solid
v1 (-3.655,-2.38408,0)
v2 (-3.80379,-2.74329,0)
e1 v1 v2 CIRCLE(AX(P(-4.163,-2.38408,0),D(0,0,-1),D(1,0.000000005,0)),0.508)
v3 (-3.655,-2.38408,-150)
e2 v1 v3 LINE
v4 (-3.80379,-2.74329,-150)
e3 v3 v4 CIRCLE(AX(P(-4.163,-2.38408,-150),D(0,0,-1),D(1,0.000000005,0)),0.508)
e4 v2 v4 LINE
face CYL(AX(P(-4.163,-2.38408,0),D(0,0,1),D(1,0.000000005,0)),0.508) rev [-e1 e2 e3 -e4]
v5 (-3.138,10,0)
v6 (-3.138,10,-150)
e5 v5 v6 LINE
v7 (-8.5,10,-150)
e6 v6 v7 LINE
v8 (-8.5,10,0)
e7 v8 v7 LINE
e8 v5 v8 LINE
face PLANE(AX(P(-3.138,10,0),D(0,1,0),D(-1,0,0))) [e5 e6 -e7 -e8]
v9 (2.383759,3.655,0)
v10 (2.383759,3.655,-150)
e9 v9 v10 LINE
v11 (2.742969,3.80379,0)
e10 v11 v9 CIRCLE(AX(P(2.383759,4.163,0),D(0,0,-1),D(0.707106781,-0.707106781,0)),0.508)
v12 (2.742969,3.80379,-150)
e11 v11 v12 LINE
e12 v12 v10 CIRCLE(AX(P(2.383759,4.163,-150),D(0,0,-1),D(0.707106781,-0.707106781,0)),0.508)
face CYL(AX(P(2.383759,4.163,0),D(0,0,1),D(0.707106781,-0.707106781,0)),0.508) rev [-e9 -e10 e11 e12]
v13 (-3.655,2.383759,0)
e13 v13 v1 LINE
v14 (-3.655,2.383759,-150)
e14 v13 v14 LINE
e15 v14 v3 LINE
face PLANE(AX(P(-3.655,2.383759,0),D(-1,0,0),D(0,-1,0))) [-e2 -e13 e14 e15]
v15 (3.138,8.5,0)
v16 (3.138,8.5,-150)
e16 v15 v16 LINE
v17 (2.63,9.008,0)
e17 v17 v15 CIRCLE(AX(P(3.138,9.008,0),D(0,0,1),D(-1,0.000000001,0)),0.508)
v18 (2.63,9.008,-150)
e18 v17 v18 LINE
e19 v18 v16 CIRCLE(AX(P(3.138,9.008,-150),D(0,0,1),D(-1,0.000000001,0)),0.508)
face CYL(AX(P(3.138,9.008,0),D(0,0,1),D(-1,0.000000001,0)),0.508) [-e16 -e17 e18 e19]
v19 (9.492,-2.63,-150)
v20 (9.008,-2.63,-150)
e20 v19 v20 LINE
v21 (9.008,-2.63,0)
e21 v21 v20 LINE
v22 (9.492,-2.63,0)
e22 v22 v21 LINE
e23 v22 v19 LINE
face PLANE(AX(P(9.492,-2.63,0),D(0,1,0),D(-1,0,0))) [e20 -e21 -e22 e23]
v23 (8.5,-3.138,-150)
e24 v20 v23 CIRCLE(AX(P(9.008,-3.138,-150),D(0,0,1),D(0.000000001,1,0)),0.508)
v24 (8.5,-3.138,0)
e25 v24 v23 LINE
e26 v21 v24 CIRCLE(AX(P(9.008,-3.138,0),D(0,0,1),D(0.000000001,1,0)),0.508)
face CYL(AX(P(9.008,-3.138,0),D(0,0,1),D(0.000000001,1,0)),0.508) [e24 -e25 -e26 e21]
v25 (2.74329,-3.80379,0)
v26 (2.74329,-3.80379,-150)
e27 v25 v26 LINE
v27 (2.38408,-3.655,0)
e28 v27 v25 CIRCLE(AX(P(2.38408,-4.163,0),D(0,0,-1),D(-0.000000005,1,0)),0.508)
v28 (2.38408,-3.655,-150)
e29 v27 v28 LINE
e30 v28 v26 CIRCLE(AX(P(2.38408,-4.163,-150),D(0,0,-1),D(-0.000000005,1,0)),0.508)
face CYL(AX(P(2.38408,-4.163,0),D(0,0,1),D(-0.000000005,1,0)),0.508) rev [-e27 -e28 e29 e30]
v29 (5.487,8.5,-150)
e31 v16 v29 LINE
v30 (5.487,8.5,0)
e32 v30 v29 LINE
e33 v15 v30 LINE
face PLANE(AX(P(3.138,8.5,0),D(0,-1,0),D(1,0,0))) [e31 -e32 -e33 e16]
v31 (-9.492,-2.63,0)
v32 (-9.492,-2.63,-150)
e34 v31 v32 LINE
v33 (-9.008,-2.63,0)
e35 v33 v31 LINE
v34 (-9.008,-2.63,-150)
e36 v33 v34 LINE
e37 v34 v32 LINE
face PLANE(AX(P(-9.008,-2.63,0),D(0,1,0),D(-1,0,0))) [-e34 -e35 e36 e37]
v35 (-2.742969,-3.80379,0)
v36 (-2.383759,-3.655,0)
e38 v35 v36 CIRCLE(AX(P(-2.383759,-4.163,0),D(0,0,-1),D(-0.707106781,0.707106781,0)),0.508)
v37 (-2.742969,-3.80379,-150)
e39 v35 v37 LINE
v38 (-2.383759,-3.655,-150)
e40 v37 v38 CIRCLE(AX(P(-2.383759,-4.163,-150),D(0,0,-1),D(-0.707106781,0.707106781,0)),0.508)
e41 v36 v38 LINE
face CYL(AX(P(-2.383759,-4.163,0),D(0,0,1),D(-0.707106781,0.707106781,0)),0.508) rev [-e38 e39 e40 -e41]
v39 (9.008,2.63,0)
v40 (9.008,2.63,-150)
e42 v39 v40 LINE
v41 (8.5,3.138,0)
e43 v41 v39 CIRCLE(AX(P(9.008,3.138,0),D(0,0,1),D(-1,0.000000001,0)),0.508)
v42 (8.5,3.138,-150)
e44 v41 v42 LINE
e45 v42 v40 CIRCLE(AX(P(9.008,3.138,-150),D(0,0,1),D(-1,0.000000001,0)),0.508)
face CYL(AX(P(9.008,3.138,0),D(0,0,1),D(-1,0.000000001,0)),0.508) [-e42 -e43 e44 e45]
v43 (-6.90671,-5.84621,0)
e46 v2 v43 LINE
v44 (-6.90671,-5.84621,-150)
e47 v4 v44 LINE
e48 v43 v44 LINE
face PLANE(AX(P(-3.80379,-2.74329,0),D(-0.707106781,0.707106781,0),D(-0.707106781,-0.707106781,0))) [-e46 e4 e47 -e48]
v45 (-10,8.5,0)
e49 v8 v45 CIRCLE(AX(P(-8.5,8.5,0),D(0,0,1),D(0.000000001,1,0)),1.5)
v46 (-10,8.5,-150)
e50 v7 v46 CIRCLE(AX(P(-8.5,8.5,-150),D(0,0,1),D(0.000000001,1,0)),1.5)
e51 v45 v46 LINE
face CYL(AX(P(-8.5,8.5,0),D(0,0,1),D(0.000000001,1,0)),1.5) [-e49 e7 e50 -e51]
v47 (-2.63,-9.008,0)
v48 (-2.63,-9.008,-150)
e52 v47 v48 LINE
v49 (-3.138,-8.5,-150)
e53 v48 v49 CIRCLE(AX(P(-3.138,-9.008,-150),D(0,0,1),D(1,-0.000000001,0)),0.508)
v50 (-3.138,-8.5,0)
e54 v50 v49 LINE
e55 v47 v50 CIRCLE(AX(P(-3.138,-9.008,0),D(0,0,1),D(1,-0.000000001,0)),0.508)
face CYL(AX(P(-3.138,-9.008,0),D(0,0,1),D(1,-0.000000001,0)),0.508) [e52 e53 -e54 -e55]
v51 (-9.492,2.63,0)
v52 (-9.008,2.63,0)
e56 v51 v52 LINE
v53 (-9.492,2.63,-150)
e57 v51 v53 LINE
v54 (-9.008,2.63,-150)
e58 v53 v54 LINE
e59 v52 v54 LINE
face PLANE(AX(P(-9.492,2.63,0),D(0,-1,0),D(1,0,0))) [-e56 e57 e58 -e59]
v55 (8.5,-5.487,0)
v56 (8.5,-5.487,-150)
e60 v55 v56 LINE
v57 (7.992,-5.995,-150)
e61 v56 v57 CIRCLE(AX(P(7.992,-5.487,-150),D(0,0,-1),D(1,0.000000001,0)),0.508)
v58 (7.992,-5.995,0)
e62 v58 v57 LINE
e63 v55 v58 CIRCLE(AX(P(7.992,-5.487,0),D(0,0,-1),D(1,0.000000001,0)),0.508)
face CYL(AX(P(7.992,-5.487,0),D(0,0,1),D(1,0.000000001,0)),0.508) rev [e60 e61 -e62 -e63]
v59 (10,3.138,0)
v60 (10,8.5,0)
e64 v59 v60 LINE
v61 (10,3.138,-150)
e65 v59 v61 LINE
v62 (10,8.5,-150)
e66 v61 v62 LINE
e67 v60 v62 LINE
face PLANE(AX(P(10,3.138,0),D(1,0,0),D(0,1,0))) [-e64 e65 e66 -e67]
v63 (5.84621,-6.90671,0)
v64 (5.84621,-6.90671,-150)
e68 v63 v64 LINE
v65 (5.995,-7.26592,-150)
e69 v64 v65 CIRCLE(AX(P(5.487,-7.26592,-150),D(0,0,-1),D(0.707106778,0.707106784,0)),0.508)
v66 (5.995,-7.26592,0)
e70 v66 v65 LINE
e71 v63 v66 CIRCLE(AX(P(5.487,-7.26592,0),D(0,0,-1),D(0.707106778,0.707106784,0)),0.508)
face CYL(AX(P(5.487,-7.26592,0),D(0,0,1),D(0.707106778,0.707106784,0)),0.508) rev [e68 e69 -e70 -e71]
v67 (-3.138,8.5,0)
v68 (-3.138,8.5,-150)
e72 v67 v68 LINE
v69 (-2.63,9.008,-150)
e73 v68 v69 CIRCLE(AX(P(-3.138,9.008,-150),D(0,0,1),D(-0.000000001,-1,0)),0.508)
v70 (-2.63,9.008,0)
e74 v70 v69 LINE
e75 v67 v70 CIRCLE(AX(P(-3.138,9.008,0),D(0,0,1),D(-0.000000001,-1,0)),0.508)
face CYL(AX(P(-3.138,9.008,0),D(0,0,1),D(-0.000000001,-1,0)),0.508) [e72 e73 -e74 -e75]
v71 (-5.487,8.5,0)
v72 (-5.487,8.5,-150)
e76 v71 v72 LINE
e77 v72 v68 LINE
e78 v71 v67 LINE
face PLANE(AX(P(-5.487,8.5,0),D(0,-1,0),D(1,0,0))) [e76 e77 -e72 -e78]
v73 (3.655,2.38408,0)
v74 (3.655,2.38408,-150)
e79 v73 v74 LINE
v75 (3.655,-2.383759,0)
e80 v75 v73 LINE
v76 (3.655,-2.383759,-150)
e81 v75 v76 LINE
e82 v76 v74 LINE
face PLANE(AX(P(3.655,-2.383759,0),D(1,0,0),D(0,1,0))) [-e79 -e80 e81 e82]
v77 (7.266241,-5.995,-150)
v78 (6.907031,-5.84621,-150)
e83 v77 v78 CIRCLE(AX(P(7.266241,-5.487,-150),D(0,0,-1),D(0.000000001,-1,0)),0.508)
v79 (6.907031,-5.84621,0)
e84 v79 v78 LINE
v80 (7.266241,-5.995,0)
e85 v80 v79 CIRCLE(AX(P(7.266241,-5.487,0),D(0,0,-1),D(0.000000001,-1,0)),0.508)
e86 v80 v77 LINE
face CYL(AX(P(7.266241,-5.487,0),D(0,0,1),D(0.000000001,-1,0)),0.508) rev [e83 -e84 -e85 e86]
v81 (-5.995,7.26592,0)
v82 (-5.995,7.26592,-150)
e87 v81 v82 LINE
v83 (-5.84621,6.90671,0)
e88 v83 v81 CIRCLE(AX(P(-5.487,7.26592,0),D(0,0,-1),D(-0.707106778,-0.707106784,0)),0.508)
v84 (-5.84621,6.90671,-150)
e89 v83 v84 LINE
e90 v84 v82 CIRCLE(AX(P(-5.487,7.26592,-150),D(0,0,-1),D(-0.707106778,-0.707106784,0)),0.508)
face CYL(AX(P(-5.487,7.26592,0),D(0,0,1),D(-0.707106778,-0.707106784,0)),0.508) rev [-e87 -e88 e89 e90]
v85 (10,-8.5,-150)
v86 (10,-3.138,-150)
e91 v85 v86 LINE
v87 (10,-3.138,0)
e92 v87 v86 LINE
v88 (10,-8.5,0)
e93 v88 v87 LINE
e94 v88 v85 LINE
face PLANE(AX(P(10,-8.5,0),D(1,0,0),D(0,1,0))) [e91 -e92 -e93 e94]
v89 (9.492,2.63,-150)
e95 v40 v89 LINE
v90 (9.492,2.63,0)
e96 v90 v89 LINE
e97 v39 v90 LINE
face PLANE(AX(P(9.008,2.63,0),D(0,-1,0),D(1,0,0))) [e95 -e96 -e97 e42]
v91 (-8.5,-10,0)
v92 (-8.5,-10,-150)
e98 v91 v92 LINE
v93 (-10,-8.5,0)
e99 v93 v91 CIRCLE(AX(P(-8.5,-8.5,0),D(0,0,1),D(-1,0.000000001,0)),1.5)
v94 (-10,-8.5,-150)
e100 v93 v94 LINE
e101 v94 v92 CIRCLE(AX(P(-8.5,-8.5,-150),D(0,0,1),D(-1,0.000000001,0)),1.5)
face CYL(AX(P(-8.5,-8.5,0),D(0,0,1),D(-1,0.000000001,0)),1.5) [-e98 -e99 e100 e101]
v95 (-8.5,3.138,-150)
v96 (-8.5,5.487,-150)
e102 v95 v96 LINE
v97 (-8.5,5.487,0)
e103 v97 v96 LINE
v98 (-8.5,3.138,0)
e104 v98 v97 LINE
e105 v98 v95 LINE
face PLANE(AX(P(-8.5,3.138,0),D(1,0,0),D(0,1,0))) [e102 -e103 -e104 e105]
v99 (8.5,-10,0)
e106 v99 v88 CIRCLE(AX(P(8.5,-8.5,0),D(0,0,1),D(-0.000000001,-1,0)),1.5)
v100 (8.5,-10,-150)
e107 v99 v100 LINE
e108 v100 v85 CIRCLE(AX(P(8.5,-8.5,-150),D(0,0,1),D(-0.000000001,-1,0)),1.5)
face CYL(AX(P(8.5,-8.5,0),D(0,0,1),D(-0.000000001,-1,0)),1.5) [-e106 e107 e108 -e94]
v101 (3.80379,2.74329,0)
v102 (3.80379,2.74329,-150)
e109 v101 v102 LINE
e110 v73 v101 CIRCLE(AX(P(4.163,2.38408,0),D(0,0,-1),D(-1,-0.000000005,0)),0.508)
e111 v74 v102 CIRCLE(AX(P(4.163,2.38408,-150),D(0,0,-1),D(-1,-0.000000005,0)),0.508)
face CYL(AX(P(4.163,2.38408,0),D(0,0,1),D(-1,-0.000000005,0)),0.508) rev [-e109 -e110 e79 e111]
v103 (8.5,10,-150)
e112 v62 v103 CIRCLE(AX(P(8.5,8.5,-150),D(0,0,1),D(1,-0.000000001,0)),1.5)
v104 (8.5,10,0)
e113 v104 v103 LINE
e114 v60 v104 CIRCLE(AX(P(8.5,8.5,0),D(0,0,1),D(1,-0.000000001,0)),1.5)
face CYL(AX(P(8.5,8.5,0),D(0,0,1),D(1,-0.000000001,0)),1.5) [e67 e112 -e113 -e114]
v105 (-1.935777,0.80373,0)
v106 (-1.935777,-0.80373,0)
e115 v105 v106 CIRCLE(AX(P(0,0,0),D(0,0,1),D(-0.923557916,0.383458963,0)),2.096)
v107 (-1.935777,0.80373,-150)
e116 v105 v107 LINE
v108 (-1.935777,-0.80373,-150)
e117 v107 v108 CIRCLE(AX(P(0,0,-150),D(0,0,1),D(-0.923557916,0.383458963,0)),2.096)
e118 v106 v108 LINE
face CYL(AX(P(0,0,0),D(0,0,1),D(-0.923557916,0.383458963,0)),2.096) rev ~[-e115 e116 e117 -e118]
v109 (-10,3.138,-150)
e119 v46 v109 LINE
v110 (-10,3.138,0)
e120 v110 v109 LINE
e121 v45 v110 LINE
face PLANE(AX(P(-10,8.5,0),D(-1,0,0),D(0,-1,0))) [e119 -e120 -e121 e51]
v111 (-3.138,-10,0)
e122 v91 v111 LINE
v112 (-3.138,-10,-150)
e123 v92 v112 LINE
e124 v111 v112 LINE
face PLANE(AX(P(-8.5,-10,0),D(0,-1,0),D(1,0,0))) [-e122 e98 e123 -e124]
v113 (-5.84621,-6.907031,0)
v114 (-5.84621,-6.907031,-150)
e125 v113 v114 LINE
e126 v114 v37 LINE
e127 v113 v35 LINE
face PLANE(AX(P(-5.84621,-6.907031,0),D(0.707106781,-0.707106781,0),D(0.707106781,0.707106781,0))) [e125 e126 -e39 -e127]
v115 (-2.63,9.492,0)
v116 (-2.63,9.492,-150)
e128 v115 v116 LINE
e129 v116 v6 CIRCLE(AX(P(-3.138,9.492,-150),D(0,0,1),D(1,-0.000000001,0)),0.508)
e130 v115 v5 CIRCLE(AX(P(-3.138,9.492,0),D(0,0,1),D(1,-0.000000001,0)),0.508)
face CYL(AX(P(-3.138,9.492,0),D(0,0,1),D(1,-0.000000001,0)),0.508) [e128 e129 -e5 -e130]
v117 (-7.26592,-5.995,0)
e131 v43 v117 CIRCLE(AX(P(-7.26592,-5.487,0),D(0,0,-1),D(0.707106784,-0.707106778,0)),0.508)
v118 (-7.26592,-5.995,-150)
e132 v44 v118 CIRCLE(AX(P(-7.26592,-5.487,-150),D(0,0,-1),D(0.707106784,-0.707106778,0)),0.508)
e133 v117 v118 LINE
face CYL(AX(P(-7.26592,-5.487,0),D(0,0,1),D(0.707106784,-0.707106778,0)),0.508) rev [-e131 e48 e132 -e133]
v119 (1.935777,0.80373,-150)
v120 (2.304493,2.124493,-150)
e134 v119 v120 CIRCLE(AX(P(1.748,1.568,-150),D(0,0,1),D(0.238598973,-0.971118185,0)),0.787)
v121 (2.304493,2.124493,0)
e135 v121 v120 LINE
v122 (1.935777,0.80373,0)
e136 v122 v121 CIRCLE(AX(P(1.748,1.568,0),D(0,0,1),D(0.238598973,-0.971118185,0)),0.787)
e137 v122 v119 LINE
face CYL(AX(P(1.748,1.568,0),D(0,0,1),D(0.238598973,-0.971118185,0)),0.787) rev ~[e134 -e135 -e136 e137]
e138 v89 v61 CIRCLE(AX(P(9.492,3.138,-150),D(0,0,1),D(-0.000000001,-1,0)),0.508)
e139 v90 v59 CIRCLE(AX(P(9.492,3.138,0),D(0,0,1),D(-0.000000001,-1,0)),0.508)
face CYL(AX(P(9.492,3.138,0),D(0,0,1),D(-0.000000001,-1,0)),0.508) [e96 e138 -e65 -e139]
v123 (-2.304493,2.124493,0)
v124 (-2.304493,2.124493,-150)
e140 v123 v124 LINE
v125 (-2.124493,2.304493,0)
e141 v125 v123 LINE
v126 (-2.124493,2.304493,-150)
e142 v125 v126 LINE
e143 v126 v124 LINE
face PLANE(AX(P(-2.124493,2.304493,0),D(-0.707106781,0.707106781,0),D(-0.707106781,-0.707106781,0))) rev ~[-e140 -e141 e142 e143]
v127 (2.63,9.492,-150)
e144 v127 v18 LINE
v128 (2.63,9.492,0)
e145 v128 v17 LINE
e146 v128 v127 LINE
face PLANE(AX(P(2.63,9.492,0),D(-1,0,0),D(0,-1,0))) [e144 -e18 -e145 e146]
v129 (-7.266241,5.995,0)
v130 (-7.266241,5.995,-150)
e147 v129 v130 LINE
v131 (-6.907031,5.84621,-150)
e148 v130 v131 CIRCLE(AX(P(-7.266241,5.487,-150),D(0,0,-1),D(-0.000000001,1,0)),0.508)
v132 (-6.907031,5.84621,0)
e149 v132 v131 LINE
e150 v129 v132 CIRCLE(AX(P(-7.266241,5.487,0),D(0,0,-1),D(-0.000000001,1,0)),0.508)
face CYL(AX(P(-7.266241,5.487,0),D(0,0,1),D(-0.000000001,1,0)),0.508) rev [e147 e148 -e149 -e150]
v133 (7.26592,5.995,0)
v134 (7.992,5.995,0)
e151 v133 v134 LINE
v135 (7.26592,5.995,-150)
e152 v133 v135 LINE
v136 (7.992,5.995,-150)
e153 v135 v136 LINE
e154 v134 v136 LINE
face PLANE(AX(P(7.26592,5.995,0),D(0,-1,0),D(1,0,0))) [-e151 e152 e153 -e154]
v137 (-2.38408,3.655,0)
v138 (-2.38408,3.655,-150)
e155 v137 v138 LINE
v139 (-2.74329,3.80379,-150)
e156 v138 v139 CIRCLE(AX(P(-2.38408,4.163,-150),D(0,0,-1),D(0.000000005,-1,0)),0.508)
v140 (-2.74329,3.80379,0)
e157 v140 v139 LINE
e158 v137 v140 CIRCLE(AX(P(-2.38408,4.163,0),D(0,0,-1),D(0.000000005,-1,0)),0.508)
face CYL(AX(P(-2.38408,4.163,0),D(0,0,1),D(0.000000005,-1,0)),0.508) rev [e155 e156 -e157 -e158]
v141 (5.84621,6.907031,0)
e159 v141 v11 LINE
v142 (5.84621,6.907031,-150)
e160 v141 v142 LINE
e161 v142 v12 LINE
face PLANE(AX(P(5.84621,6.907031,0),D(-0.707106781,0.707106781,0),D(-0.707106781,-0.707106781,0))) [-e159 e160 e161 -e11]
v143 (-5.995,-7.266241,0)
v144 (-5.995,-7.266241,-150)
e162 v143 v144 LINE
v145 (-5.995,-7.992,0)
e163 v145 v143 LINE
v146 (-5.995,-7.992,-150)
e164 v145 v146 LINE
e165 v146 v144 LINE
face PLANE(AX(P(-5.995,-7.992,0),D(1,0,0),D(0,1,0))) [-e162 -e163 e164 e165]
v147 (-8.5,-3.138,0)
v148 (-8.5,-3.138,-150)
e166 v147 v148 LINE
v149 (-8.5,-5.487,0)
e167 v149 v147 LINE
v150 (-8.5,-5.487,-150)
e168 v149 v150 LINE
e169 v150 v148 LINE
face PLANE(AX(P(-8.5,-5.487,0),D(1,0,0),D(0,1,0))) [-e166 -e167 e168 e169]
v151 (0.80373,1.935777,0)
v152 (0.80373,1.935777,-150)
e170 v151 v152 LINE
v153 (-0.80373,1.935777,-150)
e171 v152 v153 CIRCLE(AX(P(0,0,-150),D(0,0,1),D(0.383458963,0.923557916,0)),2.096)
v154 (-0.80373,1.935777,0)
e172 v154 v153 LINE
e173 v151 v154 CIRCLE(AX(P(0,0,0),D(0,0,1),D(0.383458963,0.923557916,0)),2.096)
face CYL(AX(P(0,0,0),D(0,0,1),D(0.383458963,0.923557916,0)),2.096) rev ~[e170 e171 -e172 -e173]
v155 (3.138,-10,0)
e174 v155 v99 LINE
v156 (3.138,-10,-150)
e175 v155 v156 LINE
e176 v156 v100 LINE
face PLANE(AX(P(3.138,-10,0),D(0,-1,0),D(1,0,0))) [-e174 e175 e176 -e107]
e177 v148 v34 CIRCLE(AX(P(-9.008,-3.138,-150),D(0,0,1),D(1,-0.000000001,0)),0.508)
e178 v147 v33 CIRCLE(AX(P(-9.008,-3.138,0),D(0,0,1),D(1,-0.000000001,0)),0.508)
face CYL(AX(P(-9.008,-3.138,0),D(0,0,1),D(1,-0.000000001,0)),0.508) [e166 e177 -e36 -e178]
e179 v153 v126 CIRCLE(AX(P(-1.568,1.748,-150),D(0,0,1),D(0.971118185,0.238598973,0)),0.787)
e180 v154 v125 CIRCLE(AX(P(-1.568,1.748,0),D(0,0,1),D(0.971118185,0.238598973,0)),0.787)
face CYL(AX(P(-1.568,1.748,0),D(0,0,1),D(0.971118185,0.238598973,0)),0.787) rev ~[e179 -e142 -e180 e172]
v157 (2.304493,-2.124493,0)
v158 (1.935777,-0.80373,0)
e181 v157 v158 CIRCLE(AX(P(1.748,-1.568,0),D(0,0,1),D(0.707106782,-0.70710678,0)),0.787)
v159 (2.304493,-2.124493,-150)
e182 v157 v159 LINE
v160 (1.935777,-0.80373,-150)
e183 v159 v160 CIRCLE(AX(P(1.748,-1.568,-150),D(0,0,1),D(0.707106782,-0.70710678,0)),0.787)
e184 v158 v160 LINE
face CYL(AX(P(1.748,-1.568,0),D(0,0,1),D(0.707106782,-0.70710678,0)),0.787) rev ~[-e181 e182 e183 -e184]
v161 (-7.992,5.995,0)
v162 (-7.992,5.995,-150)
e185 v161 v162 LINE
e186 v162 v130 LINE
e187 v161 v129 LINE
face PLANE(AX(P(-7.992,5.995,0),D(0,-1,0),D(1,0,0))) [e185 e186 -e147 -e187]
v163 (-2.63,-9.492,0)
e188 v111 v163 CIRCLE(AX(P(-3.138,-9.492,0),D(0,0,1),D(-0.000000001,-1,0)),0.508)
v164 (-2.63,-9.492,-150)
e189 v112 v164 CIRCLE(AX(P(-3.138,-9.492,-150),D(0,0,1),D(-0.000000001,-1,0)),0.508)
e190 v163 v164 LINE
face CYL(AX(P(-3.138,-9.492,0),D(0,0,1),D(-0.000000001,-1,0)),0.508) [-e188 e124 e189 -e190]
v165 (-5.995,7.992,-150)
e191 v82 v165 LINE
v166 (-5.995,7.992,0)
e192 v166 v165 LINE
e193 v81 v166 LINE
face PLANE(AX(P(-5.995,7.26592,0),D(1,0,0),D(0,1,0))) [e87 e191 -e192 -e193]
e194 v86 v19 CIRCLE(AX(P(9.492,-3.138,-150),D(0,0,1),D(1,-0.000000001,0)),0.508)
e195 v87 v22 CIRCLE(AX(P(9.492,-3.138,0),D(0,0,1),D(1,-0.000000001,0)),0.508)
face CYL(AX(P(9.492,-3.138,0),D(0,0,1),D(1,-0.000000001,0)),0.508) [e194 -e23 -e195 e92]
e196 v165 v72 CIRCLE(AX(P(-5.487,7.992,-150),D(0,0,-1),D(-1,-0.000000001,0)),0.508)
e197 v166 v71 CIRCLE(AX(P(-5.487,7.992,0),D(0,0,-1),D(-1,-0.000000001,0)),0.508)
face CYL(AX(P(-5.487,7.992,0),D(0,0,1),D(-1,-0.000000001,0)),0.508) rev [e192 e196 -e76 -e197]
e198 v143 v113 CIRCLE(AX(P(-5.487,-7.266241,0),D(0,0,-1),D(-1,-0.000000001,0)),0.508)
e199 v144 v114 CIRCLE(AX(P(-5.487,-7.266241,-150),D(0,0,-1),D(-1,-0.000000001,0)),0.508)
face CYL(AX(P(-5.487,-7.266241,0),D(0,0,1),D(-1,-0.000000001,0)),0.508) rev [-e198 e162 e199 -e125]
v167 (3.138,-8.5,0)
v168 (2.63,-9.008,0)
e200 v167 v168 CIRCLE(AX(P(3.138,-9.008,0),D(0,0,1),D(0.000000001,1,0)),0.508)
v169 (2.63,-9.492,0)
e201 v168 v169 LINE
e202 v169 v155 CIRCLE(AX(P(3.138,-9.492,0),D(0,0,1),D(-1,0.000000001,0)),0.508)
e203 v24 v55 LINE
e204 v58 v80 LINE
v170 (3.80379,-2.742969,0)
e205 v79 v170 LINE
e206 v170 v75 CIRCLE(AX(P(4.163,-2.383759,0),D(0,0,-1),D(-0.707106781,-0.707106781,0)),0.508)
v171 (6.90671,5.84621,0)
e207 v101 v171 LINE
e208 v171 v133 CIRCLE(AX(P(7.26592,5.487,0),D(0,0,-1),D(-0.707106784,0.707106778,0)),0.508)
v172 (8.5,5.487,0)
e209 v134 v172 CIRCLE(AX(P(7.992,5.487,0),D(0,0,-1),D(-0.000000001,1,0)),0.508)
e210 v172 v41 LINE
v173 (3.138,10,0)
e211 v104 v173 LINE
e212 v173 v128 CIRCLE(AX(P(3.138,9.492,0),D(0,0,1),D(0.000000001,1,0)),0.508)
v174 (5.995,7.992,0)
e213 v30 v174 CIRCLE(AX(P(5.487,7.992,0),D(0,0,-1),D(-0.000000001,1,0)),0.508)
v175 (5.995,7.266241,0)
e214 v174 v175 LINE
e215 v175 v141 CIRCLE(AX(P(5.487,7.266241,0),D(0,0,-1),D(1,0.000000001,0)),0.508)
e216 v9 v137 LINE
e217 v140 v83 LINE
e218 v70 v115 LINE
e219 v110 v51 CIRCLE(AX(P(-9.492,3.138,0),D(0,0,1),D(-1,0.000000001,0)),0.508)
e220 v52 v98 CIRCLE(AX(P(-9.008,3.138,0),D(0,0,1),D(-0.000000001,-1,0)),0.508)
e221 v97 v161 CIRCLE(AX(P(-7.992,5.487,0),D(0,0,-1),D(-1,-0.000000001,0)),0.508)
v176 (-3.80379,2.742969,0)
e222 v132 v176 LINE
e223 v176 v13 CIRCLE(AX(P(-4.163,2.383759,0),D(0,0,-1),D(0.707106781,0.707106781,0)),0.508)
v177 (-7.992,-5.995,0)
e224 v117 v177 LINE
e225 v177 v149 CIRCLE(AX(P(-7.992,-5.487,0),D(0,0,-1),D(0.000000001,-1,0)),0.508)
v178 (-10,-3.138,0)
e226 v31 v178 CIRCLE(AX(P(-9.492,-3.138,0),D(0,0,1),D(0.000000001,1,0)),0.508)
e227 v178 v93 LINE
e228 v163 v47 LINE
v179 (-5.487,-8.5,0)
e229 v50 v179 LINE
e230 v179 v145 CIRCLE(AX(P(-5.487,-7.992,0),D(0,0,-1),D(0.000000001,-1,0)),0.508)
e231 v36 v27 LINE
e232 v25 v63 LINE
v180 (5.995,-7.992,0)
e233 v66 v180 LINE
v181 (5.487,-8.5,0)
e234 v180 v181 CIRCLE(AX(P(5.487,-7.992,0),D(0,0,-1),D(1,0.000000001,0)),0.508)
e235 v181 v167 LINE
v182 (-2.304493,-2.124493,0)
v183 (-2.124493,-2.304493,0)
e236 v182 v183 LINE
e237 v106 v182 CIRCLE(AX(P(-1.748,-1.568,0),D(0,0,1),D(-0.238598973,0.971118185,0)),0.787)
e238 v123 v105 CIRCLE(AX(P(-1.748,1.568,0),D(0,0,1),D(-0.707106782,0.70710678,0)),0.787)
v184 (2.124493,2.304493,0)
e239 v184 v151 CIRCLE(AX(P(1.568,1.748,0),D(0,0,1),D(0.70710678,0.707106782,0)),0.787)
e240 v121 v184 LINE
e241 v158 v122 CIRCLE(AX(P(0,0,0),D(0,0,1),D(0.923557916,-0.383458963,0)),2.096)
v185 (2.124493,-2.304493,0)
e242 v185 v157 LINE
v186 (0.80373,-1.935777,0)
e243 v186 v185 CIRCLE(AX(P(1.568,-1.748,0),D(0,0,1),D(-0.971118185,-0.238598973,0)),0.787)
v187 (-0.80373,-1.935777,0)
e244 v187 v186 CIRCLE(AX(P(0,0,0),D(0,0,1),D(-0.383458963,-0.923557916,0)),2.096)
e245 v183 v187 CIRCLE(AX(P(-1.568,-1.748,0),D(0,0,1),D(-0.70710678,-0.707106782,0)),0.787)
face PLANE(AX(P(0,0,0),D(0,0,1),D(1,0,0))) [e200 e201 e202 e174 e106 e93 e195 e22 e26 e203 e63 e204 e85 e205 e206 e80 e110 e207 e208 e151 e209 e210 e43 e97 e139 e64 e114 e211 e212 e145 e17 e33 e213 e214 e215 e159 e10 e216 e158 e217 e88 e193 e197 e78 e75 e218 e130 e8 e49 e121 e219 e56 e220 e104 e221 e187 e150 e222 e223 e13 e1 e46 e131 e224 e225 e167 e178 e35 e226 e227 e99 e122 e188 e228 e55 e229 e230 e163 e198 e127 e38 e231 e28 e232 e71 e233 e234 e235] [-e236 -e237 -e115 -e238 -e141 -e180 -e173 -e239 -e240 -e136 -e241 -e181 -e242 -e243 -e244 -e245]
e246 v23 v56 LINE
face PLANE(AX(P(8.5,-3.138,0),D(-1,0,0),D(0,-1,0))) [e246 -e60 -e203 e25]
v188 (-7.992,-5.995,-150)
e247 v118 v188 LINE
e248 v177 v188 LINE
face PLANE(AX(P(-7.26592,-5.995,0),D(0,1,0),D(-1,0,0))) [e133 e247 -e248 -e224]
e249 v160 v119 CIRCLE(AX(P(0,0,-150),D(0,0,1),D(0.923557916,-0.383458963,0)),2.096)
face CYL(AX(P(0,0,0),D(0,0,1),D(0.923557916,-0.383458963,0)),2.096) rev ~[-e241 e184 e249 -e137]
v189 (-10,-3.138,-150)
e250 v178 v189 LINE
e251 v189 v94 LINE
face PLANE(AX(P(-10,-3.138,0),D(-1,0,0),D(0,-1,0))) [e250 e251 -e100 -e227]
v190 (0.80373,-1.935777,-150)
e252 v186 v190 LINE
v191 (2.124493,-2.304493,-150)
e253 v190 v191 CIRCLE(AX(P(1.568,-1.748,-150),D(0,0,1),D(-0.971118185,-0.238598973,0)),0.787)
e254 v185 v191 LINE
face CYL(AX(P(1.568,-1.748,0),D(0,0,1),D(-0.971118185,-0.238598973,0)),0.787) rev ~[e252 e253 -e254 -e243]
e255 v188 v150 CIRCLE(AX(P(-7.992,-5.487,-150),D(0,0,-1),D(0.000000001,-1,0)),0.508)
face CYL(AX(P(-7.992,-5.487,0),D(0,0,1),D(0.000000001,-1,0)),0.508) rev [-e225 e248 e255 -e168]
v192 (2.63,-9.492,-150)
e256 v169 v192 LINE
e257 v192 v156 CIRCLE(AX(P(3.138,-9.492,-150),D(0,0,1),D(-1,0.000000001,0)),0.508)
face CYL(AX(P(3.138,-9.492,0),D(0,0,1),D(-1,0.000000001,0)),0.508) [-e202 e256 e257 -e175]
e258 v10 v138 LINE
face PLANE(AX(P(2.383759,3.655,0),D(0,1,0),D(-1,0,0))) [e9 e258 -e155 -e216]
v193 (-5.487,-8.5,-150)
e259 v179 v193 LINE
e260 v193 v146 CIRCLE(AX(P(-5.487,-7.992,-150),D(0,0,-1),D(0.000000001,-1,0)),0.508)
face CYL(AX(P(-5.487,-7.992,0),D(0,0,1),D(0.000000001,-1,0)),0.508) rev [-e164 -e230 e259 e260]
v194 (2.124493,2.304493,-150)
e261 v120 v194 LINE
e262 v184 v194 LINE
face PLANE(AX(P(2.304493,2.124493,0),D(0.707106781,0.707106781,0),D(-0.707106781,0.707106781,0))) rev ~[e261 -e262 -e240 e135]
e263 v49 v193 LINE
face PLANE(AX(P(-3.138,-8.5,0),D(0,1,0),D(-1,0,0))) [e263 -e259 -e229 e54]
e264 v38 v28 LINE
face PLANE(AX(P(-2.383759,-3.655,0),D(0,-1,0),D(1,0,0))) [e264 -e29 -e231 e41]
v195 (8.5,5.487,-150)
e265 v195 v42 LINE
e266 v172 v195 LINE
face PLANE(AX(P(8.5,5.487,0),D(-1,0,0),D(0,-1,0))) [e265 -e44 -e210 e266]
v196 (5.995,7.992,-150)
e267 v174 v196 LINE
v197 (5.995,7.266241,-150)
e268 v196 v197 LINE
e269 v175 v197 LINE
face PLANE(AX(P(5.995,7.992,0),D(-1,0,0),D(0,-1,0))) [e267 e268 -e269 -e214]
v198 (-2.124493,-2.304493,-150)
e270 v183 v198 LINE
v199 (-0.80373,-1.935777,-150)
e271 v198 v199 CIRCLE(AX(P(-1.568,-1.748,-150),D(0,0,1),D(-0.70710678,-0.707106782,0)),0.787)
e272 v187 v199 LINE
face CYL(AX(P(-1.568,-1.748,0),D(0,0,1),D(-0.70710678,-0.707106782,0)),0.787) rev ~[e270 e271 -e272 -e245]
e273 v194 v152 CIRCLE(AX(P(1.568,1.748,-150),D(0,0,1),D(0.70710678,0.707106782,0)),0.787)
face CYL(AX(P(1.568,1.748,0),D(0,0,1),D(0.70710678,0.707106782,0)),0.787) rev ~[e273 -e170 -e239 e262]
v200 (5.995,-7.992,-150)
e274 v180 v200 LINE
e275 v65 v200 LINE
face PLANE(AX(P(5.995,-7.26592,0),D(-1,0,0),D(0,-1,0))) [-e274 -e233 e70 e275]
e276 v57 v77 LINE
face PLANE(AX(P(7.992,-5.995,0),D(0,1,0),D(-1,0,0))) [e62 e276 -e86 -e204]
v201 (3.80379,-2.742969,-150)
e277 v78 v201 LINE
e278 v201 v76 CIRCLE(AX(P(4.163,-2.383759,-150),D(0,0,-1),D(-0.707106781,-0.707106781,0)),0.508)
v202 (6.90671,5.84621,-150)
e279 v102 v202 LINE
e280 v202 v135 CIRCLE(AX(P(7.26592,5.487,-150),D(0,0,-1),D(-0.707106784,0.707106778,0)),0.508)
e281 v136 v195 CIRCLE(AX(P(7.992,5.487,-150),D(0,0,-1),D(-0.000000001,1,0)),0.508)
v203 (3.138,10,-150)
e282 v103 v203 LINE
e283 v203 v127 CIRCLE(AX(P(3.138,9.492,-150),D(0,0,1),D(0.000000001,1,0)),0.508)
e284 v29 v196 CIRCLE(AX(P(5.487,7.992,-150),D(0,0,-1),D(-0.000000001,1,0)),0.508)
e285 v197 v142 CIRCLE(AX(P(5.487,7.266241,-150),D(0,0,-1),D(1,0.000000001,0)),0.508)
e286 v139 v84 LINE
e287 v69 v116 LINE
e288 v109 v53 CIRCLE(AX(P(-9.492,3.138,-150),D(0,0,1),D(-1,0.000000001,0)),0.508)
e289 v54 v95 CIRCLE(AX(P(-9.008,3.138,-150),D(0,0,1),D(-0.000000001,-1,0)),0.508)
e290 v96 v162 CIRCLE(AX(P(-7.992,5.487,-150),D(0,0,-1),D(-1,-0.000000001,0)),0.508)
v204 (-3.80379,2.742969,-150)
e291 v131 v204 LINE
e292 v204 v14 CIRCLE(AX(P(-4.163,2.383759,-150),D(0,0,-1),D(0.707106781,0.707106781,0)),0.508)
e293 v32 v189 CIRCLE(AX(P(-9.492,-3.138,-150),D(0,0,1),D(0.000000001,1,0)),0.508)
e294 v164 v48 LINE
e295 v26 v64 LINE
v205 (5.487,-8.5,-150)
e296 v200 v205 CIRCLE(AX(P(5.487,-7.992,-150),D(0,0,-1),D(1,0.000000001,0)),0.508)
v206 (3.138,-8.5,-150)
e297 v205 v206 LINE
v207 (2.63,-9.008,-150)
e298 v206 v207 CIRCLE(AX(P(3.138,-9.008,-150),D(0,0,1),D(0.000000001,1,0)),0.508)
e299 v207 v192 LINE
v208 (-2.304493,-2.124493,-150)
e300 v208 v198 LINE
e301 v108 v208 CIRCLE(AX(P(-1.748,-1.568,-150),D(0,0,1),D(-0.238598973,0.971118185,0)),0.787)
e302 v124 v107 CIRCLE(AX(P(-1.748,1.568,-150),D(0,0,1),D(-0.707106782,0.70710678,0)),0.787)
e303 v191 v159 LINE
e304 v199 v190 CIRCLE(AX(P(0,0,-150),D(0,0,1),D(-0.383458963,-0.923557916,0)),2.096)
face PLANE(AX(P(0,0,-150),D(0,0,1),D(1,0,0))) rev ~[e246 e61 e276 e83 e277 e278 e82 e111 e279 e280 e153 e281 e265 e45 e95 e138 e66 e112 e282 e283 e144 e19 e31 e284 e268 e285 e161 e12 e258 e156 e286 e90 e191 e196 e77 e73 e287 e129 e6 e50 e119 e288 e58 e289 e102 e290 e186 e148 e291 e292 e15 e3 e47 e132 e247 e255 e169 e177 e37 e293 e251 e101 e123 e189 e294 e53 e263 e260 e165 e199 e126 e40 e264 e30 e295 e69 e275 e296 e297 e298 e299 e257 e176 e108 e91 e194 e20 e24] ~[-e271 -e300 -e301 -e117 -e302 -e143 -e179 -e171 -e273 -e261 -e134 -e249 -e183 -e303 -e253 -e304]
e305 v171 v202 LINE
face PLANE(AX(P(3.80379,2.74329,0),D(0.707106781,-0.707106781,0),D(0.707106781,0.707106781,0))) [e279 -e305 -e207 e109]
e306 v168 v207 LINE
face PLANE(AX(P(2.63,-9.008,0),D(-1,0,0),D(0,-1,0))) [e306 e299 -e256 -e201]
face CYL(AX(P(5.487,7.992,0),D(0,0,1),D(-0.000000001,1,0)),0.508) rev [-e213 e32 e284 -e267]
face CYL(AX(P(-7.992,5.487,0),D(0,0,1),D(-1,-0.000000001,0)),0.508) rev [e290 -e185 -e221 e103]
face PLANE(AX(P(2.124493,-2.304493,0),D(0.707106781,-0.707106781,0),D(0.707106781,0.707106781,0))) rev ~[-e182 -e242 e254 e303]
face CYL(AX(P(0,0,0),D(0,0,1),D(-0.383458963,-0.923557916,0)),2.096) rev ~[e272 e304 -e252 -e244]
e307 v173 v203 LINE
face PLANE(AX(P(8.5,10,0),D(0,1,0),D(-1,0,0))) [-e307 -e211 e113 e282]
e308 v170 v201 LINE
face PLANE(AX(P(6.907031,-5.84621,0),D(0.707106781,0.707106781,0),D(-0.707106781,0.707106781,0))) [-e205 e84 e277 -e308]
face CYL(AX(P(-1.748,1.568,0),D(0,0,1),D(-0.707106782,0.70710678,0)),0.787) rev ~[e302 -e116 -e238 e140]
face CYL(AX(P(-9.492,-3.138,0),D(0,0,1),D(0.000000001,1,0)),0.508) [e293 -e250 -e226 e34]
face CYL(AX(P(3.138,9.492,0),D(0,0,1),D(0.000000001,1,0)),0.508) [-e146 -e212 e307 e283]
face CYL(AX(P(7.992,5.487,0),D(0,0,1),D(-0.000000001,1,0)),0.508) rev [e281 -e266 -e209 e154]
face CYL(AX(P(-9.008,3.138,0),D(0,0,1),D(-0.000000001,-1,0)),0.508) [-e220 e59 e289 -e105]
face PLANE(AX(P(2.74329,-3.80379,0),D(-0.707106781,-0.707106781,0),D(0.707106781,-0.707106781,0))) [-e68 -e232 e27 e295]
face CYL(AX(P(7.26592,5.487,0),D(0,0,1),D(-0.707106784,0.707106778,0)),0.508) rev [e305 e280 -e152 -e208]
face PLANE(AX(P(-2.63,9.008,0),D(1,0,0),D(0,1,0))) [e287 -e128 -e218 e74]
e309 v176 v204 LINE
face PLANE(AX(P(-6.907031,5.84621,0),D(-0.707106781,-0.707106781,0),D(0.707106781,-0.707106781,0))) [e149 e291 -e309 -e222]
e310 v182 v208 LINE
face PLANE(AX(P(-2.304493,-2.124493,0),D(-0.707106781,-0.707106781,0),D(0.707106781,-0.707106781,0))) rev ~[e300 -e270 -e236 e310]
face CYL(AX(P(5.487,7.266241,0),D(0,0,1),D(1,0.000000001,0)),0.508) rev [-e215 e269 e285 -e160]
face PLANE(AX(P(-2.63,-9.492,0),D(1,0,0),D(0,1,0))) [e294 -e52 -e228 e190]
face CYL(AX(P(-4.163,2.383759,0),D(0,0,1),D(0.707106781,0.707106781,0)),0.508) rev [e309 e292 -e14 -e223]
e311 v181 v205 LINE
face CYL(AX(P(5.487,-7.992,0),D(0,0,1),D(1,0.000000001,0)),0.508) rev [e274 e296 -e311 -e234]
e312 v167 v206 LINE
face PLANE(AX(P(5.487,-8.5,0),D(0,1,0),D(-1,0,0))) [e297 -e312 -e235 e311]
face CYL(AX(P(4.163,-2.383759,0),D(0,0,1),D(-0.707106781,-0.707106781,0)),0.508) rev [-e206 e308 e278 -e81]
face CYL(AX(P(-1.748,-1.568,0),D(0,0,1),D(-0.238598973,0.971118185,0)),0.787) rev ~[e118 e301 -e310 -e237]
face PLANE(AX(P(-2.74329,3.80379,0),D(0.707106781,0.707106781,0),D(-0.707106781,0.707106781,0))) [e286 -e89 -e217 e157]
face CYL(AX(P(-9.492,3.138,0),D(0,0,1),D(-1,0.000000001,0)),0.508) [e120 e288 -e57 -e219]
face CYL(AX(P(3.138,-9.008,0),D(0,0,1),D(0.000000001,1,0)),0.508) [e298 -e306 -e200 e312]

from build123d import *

# Parameters (mm, degrees)
BOSS_EXTRUDE1_DEPTH = 150


with BuildPart() as part:
    # Sketch2 → Boss-Extrude1 (new body)
    with BuildSketch(Plane.XY):
        with BuildLine():
            Line((-10, -3.138), (-10, -8.5))
            ThreePointArc((-10, -8.5), (-9.560660172, -9.560660172), (-8.5, -10))
            Line((-8.5, -10), (-3.138, -10))
            ThreePointArc((-3.138, -10), (-2.778789755, -9.851210245), (-2.63, -9.492))
            Line((-2.63, -9.492), (-2.63, -9.008))
            ThreePointArc((-2.63, -9.008), (-2.778789755, -8.648789755), (-3.138, -8.5))
            Line((-3.138, -8.5), (-5.487, -8.5))
            ThreePointArc((-5.487, -8.5), (-5.846210245, -8.351210245), (-5.995, -7.992))
            Line((-5.995, -7.992), (-5.995, -7.266240833))
            ThreePointArc((-5.995, -7.266240833), (-5.956330803, -7.07183765), (-5.846210245, -6.907030588))
            Line((-5.846210245, -6.907030588), (-2.742969412, -3.803789755))
            ThreePointArc((-2.742969412, -3.803789755), (-2.57816235, -3.693669197), (-2.383759167, -3.655))
            Line((-2.383759167, -3.655), (2.38407951, -3.655))
            ThreePointArc((2.38407951, -3.655), (2.578482694, -3.693669197), (2.743289755, -3.803789755))
            Line((2.743289755, -3.803789755), (5.846210245, -6.906710245))
            ThreePointArc((5.846210245, -6.906710245), (5.956330803, -7.071517306), (5.995, -7.26592049))
            Line((5.995, -7.26592049), (5.995, -7.992))
            ThreePointArc((5.995, -7.992), (5.846210245, -8.351210245), (5.487, -8.5))
            Line((5.487, -8.5), (3.138, -8.5))
            ThreePointArc((3.138, -8.5), (2.778789755, -8.648789755), (2.63, -9.008))
            Line((2.63, -9.008), (2.63, -9.492))
            ThreePointArc((2.63, -9.492), (2.778789755, -9.851210245), (3.138, -10))
            Line((3.138, -10), (8.5, -10))
            ThreePointArc((8.5, -10), (9.560660172, -9.560660172), (10, -8.5))
            Line((10, -8.5), (10, -3.138))
            ThreePointArc((10, -3.138), (9.851210245, -2.778789755), (9.492, -2.63))
            Line((9.492, -2.63), (9.008, -2.63))
            ThreePointArc((9.008, -2.63), (8.648789755, -2.778789755), (8.5, -3.138))
            Line((8.5, -3.138), (8.5, -5.487))
            ThreePointArc((8.5, -5.487), (8.351210245, -5.846210245), (7.992, -5.995))
            Line((7.992, -5.995), (7.266240833, -5.995))
            ThreePointArc((7.266240833, -5.995), (7.07183765, -5.956330803), (6.907030588, -5.846210245))
            Line((6.907030588, -5.846210245), (3.803789755, -2.742969412))
            ThreePointArc((3.803789755, -2.742969412), (3.693669197, -2.57816235), (3.655, -2.383759167))
            Line((3.655, -2.383759167), (3.655, 2.38407951))
            ThreePointArc((3.655, 2.38407951), (3.693669197, 2.578482694), (3.803789755, 2.743289755))
            Line((3.803789755, 2.743289755), (6.906710245, 5.846210245))
            ThreePointArc((6.906710245, 5.846210245), (7.071517306, 5.956330803), (7.26592049, 5.995))
            Line((7.26592049, 5.995), (7.992, 5.995))
            ThreePointArc((7.992, 5.995), (8.351210245, 5.846210245), (8.5, 5.487))
            Line((8.5, 5.487), (8.5, 3.138))
            ThreePointArc((8.5, 3.138), (8.648789755, 2.778789755), (9.008, 2.63))
            Line((9.008, 2.63), (9.492, 2.63))
            ThreePointArc((9.492, 2.63), (9.851210245, 2.778789755), (10, 3.138))
            Line((10, 3.138), (10, 8.5))
            ThreePointArc((10, 8.5), (9.560660172, 9.560660172), (8.5, 10))
            Line((8.5, 10), (3.138, 10))
            ThreePointArc((3.138, 10), (2.778789755, 9.851210245), (2.63, 9.492))
            Line((2.63, 9.492), (2.63, 9.008))
            ThreePointArc((2.63, 9.008), (2.778789755, 8.648789755), (3.138, 8.5))
            Line((3.138, 8.5), (5.487, 8.5))
            ThreePointArc((5.487, 8.5), (5.846210245, 8.351210245), (5.995, 7.992))
            Line((5.995, 7.992), (5.995, 7.266240833))
            ThreePointArc((5.995, 7.266240833), (5.956330803, 7.07183765), (5.846210245, 6.907030588))
            Line((5.846210245, 6.907030588), (2.742969412, 3.803789755))
            ThreePointArc((2.742969412, 3.803789755), (2.57816235, 3.693669197), (2.383759167, 3.655))
            Line((2.383759167, 3.655), (-2.38407951, 3.655))
            ThreePointArc((-2.38407951, 3.655), (-2.578482694, 3.693669197), (-2.743289755, 3.803789755))
            Line((-2.743289755, 3.803789755), (-5.846210245, 6.906710245))
            ThreePointArc((-5.846210245, 6.906710245), (-5.956330803, 7.071517306), (-5.995, 7.26592049))
            Line((-5.995, 7.26592049), (-5.995, 7.992))
            ThreePointArc((-5.995, 7.992), (-5.846210245, 8.351210245), (-5.487, 8.5))
            Line((-5.487, 8.5), (-3.138, 8.5))
            ThreePointArc((-3.138, 8.5), (-2.778789755, 8.648789755), (-2.63, 9.008))
            Line((-2.63, 9.008), (-2.63, 9.492))
            ThreePointArc((-2.63, 9.492), (-2.778789755, 9.851210245), (-3.138, 10))
            Line((-3.138, 10), (-8.5, 10))
            ThreePointArc((-8.5, 10), (-9.560660172, 9.560660172), (-10, 8.5))
            Line((-10, 8.5), (-10, 3.138))
            ThreePointArc((-10, 3.138), (-9.851210245, 2.778789755), (-9.492, 2.63))
            Line((-9.492, 2.63), (-9.008, 2.63))
            ThreePointArc((-9.008, 2.63), (-8.648789755, 2.778789755), (-8.5, 3.138))
            Line((-8.5, 3.138), (-8.5, 5.487))
            ThreePointArc((-8.5, 5.487), (-8.351210245, 5.846210245), (-7.992, 5.995))
            Line((-7.992, 5.995), (-7.266240833, 5.995))
            ThreePointArc((-7.266240833, 5.995), (-7.07183765, 5.956330803), (-6.907030588, 5.846210245))
            Line((-6.907030588, 5.846210245), (-3.803789755, 2.742969412))
            ThreePointArc((-3.803789755, 2.742969412), (-3.693669197, 2.57816235), (-3.655, 2.383759167))
            Line((-3.655, 2.383759167), (-3.655, -2.38407951))
            ThreePointArc((-3.655, -2.38407951), (-3.693669197, -2.578482694), (-3.803789755, -2.743289755))
            Line((-3.803789755, -2.743289755), (-6.906710245, -5.846210245))
            ThreePointArc((-6.906710245, -5.846210245), (-7.071517306, -5.956330803), (-7.26592049, -5.995))
            Line((-7.26592049, -5.995), (-7.992, -5.995))
            ThreePointArc((-7.992, -5.995), (-8.351210245, -5.846210245), (-8.5, -5.487))
            Line((-8.5, -5.487), (-8.5, -3.138))
            ThreePointArc((-8.5, -3.138), (-8.648789755, -2.778789755), (-9.008, -2.63))
            Line((-9.008, -2.63), (-9.492, -2.63))
            ThreePointArc((-9.492, -2.63), (-9.851210245, -2.778789755), (-10, -3.138))
        make_face()
        with BuildLine():
            Line((-2.124493037, 2.304493037), (-2.304493037, 2.124493037))
            ThreePointArc((-2.304493037, 2.124493037), (-2.506016078, 1.35638567), (-1.935777391, 0.803729988))
            ThreePointArc((-1.935777391, 0.803729988), (-2.096, 0), (-1.935777391, -0.803729988))
            ThreePointArc((-1.935777391, -0.803729988), (-2.506016078, -1.35638567), (-2.304493037, -2.124493037))
            Line((-2.304493037, -2.124493037), (-2.124493037, -2.304493037))
            ThreePointArc((-2.124493037, -2.304493037), (-1.35638567, -2.506016078), (-0.803729988, -1.935777391))
            ThreePointArc((-0.803729988, -1.935777391), (0, -2.096), (0.803729988, -1.935777391))
            ThreePointArc((0.803729988, -1.935777391), (1.35638567, -2.506016078), (2.124493037, -2.304493037))
            Line((2.124493037, -2.304493037), (2.304493037, -2.124493037))
            ThreePointArc((2.304493037, -2.124493037), (2.506016078, -1.35638567), (1.935777391, -0.803729988))
            ThreePointArc((1.935777391, -0.803729988), (2.096, 0), (1.935777391, 0.803729988))
            ThreePointArc((1.935777391, 0.803729988), (2.506016078, 1.35638567), (2.304493037, 2.124493037))
            Line((2.304493037, 2.124493037), (2.124493037, 2.304493037))
            ThreePointArc((2.124493037, 2.304493037), (1.35638567, 2.506016078), (0.803729988, 1.935777391))
            ThreePointArc((0.803729988, 1.935777391), (0, 2.096), (-0.803729988, 1.935777391))
            ThreePointArc((-0.803729988, 1.935777391), (-1.35638567, 2.506016078), (-2.124493037, 2.304493037))
        make_face(mode=Mode.SUBTRACT)
    extrude(amount=-BOSS_EXTRUDE1_DEPTH)


solid = part.part
